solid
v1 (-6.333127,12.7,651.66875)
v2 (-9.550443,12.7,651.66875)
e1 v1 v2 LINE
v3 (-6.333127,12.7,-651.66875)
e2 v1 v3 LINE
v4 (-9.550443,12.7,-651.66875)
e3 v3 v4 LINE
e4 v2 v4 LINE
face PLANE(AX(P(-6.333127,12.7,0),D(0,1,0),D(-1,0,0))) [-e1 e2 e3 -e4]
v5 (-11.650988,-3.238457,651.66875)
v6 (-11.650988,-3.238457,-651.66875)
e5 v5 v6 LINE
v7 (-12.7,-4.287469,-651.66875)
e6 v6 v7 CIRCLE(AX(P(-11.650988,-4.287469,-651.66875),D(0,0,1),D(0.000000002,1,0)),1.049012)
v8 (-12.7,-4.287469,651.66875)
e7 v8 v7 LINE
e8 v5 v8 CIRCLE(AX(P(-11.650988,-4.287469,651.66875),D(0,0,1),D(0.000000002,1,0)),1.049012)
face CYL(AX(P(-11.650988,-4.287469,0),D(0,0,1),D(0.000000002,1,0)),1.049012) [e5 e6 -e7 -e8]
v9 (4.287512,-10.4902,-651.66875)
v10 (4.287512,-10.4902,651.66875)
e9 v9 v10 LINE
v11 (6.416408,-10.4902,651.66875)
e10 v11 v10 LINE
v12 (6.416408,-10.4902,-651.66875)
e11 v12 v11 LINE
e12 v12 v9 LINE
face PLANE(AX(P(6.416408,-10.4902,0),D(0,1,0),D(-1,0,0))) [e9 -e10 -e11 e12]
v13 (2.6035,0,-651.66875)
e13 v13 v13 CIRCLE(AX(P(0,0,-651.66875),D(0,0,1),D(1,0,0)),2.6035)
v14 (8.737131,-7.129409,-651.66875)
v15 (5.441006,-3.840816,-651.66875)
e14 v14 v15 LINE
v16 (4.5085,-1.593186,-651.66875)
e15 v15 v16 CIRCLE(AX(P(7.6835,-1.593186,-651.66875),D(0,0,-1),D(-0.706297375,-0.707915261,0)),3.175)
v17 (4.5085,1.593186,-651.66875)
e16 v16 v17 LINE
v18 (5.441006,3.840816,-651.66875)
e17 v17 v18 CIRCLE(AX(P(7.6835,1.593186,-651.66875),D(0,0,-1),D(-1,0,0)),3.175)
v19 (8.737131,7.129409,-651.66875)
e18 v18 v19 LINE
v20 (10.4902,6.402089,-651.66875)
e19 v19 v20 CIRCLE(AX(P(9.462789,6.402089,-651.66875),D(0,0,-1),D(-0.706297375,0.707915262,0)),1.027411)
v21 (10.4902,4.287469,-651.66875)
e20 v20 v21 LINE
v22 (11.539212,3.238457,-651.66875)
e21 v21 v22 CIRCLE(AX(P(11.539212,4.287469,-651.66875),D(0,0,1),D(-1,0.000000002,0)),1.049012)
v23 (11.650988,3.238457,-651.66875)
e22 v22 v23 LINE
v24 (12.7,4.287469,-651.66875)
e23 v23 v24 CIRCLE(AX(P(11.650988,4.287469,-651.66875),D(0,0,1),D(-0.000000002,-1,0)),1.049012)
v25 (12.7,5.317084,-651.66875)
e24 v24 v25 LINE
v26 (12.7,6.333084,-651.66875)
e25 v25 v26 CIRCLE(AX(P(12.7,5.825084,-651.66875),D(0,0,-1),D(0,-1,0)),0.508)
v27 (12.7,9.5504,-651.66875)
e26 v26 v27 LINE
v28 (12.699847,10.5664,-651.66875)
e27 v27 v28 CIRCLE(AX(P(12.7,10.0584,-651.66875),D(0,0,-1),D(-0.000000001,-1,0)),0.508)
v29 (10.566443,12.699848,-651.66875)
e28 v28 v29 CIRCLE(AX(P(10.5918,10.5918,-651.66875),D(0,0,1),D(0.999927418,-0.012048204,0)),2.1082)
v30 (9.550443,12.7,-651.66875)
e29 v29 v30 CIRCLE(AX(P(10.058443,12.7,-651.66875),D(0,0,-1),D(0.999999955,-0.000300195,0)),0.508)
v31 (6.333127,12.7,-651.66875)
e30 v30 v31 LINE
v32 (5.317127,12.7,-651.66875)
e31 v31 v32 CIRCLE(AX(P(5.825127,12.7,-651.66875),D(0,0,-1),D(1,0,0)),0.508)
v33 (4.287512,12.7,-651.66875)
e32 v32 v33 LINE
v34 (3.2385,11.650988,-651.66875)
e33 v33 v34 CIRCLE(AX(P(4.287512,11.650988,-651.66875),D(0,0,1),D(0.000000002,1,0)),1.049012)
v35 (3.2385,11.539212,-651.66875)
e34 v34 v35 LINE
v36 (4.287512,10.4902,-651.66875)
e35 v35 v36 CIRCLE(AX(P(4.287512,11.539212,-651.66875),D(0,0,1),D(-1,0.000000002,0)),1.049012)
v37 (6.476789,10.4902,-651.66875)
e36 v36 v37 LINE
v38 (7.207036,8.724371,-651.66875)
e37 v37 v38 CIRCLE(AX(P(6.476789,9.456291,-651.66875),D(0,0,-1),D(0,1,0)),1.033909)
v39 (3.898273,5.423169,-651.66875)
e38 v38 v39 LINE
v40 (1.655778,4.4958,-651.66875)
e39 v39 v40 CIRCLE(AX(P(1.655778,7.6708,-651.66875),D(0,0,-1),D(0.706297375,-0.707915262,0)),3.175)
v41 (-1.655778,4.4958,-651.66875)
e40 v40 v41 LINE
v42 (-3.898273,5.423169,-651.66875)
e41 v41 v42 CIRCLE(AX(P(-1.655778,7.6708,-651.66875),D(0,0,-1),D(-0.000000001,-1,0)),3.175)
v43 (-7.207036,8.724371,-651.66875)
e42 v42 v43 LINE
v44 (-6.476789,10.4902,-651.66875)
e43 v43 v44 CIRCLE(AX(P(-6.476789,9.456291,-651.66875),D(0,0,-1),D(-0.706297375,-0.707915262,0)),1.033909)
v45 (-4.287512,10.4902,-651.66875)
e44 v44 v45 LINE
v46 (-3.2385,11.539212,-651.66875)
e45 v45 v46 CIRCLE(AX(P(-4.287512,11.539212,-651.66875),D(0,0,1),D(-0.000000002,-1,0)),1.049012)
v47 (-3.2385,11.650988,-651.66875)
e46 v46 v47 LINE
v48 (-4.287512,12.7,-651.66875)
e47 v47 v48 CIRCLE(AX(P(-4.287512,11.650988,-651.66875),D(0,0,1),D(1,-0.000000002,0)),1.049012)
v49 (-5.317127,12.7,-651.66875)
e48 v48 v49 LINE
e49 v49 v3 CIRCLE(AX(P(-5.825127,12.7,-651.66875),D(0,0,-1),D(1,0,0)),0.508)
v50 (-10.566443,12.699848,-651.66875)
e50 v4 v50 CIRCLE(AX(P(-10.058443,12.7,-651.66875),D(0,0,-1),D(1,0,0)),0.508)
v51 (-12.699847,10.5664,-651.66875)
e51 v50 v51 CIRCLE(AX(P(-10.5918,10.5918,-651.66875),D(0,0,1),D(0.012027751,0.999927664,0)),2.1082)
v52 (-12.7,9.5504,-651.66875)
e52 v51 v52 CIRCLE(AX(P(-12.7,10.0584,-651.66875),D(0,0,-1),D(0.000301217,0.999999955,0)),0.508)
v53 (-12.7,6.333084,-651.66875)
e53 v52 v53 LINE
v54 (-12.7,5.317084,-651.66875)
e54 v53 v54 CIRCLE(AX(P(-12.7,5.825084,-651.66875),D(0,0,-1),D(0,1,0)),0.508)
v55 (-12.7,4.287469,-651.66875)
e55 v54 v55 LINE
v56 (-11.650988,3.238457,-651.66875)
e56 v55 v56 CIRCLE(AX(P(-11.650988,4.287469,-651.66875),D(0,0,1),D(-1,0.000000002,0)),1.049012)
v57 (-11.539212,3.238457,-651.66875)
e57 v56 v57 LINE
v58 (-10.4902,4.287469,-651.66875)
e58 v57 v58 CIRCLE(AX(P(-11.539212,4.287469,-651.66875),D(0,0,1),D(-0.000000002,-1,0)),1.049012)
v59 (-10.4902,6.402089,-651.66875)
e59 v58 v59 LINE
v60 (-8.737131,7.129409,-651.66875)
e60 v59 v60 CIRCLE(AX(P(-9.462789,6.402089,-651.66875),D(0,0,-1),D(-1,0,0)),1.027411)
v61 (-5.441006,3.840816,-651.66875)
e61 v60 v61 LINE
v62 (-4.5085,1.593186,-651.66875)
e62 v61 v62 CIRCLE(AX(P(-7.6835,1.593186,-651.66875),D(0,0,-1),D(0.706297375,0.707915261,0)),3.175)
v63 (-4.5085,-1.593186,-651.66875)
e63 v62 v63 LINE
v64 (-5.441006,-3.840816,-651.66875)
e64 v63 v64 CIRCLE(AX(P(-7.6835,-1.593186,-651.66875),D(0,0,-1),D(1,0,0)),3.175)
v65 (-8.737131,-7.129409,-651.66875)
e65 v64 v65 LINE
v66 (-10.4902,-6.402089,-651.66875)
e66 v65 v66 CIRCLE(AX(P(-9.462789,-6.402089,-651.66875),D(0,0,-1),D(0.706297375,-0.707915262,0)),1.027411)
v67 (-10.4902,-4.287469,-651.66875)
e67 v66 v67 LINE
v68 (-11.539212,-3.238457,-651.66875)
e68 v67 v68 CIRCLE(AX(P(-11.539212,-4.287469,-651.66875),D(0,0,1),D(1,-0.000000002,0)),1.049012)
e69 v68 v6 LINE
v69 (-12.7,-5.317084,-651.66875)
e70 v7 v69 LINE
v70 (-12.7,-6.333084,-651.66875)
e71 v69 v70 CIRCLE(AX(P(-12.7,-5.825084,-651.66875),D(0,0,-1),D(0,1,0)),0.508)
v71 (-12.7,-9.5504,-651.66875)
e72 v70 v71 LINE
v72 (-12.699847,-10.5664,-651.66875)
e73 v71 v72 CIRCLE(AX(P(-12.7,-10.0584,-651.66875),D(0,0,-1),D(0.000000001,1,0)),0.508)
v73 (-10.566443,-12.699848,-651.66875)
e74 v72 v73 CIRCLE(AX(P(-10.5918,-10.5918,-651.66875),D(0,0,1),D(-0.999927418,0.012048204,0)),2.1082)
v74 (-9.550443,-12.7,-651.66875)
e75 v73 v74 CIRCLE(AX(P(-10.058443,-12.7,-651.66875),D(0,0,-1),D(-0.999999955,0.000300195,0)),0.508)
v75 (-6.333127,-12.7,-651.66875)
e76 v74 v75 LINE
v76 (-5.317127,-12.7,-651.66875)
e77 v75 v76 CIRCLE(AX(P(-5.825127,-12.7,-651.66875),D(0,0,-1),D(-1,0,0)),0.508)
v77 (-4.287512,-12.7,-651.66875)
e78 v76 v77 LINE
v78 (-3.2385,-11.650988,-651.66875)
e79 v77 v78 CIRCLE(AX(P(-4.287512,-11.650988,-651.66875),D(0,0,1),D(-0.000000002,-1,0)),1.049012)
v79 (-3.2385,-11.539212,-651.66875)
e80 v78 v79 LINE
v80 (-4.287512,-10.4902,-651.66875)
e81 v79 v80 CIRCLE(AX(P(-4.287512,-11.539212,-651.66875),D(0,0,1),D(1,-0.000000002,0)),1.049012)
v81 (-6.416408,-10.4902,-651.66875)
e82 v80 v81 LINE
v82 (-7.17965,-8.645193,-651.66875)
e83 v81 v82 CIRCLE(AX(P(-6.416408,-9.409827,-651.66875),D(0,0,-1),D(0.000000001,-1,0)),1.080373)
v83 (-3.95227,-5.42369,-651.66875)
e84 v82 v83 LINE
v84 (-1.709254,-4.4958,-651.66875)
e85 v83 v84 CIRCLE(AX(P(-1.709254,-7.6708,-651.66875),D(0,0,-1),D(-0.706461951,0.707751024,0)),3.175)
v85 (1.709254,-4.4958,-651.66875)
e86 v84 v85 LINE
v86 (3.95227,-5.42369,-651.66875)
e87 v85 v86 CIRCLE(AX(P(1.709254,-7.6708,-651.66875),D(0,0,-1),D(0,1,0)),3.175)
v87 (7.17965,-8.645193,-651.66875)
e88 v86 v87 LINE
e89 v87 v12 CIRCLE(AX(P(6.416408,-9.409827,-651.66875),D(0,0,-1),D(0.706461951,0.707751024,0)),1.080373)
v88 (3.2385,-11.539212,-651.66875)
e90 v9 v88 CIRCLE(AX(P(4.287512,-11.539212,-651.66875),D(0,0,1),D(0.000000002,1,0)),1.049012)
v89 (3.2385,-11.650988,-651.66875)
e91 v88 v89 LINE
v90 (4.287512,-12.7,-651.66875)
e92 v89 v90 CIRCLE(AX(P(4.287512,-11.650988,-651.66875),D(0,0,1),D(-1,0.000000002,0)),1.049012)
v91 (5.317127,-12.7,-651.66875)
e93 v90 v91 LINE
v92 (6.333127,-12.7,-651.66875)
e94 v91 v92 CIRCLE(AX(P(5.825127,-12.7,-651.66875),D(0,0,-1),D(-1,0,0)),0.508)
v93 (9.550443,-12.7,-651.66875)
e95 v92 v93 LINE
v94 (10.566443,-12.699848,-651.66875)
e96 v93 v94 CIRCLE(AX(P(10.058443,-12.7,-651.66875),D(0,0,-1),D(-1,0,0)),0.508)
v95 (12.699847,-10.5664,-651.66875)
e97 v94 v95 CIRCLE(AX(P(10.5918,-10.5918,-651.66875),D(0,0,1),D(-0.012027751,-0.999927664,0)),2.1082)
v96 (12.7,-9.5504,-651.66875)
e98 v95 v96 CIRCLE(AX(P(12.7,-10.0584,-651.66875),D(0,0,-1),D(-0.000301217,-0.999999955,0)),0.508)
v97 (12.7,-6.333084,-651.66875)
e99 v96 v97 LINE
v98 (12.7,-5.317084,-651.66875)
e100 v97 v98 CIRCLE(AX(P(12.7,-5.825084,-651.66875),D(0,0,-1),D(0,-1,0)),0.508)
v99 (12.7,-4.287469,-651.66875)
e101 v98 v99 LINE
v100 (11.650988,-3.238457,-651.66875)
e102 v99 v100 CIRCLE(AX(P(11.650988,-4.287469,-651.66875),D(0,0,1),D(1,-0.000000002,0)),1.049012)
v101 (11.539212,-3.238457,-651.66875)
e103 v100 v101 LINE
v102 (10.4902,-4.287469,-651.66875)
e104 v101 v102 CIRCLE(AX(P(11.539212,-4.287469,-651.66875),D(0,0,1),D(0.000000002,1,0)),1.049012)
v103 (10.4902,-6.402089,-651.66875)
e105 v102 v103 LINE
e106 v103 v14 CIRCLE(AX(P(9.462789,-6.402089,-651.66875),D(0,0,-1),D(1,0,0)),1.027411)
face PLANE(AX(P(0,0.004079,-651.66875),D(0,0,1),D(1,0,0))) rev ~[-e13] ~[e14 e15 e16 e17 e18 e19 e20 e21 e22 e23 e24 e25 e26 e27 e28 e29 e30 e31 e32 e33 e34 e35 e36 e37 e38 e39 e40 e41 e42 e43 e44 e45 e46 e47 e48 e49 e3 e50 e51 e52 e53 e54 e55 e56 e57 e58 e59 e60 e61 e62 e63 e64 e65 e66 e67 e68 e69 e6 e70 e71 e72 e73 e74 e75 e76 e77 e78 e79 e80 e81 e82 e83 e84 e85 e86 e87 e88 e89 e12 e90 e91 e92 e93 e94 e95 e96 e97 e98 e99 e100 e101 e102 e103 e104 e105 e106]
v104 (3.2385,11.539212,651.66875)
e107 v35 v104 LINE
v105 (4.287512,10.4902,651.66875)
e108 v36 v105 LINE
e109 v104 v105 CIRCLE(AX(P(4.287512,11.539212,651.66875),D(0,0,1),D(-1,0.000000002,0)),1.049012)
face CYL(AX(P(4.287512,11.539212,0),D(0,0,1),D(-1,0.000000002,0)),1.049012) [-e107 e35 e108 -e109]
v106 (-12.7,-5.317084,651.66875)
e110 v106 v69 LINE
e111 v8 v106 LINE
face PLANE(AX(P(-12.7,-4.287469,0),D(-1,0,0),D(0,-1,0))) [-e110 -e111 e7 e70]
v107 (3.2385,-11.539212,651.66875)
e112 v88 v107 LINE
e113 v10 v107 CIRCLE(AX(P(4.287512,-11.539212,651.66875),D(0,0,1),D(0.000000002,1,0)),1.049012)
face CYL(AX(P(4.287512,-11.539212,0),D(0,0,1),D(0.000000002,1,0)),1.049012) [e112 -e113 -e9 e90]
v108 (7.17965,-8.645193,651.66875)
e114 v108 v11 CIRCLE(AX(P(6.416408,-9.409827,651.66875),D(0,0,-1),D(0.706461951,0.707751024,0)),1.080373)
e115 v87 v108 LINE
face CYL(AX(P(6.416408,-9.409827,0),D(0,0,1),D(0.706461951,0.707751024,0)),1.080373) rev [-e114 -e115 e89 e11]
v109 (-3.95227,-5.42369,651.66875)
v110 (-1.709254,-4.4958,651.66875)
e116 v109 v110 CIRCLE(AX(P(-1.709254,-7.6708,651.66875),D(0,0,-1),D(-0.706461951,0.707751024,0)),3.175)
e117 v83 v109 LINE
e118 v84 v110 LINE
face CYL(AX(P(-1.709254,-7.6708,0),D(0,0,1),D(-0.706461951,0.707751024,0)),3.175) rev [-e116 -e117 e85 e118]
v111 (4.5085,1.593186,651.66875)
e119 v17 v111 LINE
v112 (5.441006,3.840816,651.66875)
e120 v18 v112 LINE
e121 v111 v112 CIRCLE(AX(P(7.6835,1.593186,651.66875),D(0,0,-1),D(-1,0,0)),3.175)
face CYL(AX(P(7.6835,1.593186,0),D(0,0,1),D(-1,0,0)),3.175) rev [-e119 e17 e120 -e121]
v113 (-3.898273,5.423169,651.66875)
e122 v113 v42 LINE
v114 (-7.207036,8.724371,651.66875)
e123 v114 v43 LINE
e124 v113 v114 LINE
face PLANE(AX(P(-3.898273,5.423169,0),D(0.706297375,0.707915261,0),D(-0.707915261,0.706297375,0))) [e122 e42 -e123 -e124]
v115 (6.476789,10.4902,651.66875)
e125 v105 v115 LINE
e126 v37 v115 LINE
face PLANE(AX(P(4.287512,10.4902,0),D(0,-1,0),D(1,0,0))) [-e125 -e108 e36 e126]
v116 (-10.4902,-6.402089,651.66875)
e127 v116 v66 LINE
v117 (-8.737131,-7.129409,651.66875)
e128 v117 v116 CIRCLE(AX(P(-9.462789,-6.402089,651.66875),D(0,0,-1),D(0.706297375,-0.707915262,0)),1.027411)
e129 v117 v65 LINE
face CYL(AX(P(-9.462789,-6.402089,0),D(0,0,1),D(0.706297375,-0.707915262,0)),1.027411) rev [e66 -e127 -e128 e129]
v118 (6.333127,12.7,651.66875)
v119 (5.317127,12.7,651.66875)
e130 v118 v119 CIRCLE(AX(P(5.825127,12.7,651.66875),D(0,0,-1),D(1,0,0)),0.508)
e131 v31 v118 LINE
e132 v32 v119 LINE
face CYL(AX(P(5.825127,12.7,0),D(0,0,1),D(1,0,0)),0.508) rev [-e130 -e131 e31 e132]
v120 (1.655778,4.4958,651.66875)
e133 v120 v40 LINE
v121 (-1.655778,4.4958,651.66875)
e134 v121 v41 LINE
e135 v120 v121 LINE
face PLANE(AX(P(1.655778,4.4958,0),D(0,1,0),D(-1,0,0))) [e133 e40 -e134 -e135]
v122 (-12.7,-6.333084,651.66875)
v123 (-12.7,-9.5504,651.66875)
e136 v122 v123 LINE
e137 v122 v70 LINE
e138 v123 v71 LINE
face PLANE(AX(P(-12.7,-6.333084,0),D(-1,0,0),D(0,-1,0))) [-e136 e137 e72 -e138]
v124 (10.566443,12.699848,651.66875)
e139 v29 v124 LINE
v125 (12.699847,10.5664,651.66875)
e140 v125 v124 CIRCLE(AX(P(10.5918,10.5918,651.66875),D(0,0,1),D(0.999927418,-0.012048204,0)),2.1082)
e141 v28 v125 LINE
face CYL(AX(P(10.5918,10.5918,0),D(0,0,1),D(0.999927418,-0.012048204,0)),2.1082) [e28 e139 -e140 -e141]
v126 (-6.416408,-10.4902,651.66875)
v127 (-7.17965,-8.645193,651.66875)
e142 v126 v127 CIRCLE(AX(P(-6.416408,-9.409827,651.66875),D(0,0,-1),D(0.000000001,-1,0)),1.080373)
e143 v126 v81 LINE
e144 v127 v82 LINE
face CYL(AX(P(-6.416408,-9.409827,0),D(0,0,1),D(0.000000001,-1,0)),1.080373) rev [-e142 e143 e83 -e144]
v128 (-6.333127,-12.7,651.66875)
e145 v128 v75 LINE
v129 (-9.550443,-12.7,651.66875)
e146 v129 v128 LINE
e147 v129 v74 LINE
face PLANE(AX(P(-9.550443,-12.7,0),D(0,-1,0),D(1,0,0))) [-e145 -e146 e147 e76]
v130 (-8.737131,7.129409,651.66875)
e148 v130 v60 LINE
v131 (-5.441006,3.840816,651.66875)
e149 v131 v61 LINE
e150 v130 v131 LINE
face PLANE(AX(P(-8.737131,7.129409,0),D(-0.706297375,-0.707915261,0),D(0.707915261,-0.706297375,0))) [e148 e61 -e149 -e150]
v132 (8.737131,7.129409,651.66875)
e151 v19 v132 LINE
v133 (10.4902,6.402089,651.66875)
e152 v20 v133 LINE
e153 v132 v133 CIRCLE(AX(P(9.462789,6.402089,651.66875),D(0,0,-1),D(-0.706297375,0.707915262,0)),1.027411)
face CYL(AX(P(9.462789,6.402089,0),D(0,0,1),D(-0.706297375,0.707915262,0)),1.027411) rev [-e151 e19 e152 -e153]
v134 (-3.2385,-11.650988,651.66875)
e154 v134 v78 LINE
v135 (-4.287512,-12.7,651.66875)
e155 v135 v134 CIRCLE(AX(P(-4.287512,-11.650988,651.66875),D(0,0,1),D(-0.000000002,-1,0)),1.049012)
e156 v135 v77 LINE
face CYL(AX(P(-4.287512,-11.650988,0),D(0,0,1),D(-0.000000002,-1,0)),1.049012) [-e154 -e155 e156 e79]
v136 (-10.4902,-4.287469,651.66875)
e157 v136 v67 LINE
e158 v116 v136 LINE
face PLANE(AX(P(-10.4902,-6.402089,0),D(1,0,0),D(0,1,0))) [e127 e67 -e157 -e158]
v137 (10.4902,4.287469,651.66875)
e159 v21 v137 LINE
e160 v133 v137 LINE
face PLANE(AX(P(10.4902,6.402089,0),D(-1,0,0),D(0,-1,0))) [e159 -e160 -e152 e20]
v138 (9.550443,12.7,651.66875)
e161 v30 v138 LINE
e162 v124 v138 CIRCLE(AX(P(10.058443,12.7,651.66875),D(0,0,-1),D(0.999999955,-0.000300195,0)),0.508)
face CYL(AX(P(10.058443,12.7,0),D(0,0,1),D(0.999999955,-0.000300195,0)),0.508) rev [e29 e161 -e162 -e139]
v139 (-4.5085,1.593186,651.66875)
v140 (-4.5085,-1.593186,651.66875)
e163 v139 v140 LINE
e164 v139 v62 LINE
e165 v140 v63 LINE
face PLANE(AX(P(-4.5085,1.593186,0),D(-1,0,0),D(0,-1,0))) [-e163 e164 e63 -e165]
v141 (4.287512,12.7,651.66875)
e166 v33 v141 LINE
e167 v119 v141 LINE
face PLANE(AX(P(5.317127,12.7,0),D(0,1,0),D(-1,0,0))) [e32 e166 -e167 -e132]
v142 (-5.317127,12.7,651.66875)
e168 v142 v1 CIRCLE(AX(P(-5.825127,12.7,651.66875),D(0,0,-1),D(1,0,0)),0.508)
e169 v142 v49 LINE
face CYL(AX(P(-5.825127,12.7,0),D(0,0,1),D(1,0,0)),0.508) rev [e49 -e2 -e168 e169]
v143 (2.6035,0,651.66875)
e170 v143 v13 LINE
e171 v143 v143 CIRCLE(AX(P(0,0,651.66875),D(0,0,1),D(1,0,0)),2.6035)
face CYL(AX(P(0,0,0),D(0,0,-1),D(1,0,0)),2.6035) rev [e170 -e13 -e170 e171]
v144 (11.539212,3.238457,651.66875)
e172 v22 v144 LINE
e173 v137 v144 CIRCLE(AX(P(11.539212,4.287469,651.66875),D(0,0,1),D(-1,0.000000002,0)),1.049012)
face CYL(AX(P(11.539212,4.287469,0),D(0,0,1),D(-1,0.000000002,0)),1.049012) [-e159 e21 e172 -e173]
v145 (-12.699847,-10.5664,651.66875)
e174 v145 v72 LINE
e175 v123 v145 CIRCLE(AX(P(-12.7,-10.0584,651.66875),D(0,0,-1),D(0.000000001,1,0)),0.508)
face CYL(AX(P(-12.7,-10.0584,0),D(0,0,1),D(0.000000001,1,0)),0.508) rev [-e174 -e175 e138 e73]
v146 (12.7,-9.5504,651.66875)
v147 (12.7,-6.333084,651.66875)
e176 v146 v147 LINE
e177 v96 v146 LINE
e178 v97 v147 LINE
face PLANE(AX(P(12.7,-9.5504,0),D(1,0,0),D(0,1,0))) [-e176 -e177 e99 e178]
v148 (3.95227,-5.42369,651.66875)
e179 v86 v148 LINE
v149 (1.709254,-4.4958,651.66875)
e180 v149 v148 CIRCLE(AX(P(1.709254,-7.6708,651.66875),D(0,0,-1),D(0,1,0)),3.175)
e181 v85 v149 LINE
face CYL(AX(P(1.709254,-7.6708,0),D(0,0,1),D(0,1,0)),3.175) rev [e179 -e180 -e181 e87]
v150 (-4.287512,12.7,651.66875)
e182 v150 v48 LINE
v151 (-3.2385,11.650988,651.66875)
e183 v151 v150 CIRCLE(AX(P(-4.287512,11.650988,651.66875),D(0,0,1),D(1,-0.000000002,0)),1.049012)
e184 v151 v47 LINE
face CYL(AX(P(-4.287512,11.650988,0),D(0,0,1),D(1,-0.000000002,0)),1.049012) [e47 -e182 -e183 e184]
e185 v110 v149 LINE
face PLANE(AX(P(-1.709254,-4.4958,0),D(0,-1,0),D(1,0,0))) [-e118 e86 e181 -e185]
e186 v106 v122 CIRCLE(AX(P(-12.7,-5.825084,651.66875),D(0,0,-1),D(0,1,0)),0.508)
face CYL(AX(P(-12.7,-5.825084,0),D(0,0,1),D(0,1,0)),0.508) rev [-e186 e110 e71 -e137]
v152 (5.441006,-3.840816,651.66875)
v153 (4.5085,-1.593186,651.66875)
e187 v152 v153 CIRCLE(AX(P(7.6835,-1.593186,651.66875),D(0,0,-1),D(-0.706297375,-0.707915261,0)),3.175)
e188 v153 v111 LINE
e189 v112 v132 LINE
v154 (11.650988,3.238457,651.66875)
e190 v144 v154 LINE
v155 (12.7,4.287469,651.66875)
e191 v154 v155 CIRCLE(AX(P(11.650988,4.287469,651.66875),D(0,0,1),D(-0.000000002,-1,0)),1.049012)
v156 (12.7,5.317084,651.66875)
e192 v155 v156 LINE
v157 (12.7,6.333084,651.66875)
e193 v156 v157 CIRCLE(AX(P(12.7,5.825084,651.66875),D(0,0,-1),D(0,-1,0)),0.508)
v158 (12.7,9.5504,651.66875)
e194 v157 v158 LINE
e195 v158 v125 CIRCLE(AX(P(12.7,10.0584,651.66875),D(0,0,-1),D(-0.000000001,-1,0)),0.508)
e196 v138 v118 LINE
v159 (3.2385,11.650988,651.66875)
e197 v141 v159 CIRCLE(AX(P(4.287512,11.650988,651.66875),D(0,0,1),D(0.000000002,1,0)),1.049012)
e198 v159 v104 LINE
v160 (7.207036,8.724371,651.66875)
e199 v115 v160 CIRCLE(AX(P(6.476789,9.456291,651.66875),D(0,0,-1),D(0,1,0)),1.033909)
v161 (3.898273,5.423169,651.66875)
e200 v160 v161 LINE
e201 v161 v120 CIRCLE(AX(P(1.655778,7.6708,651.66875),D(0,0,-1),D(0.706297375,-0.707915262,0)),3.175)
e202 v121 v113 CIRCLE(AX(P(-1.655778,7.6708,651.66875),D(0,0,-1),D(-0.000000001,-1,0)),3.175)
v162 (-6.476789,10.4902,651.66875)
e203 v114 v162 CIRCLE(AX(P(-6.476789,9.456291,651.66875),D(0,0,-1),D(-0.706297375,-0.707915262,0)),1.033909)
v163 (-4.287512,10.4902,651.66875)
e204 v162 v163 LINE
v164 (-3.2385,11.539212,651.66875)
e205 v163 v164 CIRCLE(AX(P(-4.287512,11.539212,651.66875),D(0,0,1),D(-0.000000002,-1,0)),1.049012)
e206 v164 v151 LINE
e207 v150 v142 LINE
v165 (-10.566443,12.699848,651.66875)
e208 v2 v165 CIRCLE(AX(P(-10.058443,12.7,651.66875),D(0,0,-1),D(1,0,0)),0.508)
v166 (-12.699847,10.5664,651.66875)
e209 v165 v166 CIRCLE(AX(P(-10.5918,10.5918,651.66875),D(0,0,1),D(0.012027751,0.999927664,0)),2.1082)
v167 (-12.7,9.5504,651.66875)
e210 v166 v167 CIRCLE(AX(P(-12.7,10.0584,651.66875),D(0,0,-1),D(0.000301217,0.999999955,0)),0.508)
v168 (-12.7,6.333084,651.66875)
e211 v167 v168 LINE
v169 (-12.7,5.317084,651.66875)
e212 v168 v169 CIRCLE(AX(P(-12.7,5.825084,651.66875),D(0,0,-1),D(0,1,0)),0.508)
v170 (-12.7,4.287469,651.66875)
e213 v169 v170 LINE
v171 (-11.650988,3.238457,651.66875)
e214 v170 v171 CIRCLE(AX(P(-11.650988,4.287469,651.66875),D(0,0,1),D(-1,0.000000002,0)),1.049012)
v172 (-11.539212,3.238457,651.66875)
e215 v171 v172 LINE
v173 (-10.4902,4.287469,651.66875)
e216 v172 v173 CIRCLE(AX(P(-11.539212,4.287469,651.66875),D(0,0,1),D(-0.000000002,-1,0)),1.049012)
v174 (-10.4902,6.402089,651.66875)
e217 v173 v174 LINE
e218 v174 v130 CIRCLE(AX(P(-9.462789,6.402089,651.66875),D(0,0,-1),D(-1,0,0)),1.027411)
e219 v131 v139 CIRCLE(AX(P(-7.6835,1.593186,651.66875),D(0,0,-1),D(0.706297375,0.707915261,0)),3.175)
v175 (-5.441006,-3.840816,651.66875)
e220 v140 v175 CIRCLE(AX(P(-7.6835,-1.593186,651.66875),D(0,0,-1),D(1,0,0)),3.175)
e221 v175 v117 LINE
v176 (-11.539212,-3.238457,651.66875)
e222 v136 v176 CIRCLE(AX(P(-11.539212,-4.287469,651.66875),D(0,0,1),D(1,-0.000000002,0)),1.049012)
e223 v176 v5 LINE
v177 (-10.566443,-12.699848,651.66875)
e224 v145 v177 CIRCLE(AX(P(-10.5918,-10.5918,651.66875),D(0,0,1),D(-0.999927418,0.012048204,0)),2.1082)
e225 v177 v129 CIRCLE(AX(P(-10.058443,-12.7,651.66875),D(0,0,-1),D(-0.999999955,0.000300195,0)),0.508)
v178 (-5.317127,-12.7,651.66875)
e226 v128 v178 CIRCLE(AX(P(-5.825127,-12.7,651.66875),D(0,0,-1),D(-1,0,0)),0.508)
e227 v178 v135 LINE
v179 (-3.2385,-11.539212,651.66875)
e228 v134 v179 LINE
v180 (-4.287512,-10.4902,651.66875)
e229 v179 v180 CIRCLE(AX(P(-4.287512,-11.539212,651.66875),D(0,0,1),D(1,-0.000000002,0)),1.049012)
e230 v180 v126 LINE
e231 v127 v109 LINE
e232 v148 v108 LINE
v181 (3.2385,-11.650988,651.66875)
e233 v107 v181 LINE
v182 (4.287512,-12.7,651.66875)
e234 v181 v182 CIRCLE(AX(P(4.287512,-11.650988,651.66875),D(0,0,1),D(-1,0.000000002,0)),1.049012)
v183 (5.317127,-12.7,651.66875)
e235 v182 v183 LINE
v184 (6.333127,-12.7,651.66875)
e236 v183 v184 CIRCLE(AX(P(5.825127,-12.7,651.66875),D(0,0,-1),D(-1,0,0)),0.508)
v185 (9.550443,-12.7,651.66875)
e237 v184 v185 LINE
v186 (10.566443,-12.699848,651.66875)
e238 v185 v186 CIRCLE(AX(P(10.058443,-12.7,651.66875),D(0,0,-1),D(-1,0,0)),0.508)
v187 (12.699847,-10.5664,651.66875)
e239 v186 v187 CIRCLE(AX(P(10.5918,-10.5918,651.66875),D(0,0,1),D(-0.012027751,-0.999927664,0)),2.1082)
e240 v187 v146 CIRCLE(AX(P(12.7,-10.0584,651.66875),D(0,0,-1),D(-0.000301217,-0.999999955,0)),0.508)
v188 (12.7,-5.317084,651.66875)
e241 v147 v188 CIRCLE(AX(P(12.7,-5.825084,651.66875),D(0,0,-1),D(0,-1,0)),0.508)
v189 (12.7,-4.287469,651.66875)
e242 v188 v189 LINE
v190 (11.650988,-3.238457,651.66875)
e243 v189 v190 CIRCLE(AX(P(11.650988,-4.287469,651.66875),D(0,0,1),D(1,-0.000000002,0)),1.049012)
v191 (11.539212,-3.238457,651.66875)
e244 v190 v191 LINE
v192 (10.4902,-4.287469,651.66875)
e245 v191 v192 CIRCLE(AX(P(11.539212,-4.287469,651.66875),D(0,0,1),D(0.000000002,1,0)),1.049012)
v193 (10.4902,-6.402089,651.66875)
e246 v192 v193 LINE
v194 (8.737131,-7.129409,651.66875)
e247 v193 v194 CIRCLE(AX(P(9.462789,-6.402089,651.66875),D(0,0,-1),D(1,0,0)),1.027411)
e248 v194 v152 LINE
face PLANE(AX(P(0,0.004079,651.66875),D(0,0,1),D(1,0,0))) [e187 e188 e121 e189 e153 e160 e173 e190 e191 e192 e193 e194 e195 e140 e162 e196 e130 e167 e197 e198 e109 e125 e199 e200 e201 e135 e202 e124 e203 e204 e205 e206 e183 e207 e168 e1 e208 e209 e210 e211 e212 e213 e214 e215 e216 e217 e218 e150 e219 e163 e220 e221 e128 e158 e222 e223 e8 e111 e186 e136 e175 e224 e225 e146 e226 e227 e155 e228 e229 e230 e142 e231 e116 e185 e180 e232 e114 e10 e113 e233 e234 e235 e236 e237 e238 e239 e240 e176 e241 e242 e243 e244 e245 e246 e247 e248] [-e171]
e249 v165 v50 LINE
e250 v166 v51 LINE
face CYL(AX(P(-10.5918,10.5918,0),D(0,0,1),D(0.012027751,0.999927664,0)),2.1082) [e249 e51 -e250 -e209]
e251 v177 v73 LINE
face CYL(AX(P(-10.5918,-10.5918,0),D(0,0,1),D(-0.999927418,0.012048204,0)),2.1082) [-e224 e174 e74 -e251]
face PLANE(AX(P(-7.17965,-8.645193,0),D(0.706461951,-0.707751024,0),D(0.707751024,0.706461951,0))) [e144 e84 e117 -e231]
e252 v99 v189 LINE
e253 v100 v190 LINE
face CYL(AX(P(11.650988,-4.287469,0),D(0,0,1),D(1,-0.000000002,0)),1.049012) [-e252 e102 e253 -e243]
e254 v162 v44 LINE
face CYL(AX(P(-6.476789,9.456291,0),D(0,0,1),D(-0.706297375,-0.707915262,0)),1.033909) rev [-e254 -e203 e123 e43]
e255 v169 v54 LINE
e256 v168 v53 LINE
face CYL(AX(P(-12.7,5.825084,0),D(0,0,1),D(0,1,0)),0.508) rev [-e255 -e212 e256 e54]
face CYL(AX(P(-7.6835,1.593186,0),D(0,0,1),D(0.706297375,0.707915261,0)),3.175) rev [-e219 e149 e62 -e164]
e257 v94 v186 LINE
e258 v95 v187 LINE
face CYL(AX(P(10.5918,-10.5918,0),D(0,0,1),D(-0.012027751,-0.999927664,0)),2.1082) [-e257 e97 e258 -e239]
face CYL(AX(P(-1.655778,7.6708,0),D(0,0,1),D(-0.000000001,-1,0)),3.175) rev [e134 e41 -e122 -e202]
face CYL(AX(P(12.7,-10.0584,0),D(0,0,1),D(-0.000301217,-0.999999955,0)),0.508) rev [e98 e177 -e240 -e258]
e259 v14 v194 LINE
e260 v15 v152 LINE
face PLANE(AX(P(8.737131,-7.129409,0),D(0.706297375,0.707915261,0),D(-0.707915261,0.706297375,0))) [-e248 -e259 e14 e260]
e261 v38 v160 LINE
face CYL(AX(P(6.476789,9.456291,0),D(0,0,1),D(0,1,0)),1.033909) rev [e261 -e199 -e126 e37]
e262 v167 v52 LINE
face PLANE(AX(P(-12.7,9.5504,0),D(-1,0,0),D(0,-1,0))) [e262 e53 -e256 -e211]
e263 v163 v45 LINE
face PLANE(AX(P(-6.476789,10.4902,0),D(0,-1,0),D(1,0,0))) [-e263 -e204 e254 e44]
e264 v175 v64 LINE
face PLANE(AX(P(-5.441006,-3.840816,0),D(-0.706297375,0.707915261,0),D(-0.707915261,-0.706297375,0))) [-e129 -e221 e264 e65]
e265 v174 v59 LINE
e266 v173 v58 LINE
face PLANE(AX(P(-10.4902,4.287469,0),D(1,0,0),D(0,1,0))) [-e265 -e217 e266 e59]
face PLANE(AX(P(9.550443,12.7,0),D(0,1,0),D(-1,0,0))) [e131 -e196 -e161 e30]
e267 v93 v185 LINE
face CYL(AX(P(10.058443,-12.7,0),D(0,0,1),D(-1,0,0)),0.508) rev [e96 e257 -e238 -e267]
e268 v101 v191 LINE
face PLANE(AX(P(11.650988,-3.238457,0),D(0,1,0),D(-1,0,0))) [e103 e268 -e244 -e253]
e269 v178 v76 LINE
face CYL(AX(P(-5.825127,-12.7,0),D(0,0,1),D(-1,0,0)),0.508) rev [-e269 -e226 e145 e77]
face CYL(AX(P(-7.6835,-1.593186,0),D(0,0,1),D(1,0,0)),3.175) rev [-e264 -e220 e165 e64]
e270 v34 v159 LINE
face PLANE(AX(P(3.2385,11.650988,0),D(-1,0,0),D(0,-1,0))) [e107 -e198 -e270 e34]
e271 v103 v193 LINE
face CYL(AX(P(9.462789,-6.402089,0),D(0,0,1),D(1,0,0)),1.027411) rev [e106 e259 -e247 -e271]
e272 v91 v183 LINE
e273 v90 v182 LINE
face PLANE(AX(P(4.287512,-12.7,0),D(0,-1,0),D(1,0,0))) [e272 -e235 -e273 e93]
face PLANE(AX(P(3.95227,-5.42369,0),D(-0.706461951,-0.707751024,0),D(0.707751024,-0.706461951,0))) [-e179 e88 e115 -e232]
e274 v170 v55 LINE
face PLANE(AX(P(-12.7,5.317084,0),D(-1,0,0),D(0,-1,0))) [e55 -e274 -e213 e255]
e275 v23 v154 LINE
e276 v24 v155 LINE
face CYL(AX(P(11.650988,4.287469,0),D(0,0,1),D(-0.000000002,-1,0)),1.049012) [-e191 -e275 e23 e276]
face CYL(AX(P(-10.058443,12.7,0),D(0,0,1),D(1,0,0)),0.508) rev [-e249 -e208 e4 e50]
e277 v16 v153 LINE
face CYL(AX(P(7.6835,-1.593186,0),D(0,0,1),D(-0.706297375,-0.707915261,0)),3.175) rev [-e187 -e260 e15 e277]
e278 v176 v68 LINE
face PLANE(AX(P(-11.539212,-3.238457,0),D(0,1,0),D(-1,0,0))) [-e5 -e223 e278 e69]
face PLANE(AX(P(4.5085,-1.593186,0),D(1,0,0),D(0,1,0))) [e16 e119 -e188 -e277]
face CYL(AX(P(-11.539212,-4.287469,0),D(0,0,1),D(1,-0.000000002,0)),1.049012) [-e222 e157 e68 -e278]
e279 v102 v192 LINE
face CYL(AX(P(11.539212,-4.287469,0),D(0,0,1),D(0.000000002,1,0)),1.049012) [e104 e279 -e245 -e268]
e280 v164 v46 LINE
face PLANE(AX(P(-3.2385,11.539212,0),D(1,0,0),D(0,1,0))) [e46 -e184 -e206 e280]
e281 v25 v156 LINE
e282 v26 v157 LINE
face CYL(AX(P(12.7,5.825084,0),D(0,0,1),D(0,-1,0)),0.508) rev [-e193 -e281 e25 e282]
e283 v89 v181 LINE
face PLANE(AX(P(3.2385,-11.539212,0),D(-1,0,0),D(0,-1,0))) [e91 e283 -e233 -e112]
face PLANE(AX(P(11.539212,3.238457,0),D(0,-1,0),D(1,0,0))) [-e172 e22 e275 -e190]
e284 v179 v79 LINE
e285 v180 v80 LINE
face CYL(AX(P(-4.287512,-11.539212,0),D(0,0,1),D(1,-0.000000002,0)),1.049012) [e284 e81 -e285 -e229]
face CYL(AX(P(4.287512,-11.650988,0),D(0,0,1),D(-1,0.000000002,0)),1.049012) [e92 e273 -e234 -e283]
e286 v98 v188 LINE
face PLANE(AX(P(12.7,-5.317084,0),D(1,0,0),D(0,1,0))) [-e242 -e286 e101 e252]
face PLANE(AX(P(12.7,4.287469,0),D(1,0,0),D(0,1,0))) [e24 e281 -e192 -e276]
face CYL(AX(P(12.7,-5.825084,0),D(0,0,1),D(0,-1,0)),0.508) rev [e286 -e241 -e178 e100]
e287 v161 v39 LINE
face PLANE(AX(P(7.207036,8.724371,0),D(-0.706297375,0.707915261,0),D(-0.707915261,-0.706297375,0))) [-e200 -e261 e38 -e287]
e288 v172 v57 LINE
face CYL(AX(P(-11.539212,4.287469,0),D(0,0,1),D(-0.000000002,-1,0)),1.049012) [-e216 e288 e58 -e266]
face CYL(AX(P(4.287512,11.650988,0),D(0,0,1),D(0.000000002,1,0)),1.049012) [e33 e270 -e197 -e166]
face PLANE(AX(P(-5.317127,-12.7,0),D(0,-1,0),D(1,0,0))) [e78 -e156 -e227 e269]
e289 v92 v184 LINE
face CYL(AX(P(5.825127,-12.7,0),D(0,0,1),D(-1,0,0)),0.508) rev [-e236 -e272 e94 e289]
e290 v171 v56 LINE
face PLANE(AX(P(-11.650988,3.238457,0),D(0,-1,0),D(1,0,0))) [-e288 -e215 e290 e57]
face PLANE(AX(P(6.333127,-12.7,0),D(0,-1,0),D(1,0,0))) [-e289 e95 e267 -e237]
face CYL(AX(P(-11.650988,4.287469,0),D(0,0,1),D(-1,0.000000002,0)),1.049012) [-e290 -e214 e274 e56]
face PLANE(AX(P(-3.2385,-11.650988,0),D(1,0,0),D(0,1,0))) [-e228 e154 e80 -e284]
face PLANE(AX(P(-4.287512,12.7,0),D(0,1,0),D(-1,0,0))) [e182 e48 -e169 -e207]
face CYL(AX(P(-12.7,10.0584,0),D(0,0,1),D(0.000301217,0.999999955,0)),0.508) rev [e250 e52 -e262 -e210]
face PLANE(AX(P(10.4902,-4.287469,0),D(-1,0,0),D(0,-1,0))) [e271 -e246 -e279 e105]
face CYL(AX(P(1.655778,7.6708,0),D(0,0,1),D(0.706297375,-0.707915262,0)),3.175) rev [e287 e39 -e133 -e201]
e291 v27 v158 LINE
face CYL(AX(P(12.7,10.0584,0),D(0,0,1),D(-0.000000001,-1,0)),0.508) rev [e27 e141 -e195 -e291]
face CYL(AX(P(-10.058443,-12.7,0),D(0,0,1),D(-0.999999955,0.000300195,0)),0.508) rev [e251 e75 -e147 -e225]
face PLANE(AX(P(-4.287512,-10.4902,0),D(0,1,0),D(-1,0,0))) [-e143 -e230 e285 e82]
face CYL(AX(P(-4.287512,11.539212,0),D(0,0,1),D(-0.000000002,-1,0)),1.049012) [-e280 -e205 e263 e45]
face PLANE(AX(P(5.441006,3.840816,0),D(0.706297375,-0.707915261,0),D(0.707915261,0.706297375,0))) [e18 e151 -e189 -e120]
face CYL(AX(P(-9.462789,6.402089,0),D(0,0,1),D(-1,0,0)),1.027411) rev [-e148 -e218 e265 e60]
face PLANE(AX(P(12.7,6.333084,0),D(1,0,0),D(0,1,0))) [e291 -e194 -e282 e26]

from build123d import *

# Parameters (mm, degrees)
SKETCH1_R           = 2.6035
BOSS_EXTRUDE1_DEPTH = 651.66875


with BuildPart() as part:
    # Sketch1 → Boss-Extrude1 (new, symmetric)
    with BuildSketch(Plane.XY):
        with BuildLine():
            Line((-7.179650497, -8.645192506), (-3.952270251, -5.423690499))
            ThreePointArc((-3.952270251, -5.423690499), (-2.922936451, -4.736929036), (-1.709253557, -4.4958))
            Line((-1.709253557, -4.4958), (1.709253557, -4.4958))
            ThreePointArc((1.709253557, -4.4958), (2.922936451, -4.736929036), (3.952270251, -5.423690499))
            Line((3.952270251, -5.423690499), (7.179650497, -8.645192506))
            ThreePointArc((7.179650497, -8.645192506), (7.41473083, -9.822813117), (6.416408329, -10.4902))
            Line((6.416408329, -10.4902), (4.287512407, -10.4902))
            ThreePointArc((4.287512407, -10.4902), (3.54574862, -10.79744862), (3.2385, -11.539212407))
            Line((3.2385, -11.539212407), (3.2385, -11.650987593))
            ThreePointArc((3.2385, -11.650987593), (3.54574862, -12.39275138), (4.287512407, -12.7))
            Line((4.287512407, -12.7), (5.317126718, -12.7))
            ThreePointArc((5.317126718, -12.7), (5.825126718, -12.192), (6.333126718, -12.7))
            Line((6.333126718, -12.7), (9.550443118, -12.7))
            ThreePointArc((9.550443118, -12.7), (10.058366869, -12.192000006), (10.566443095, -12.699847501))
            ThreePointArc((10.566443095, -12.699847501), (12.082537762, -12.08250727), (12.699846982, -10.566399977))
            ThreePointArc((12.699846982, -10.566399977), (12.192000006, -10.058323491), (12.7, -9.5504))
            Line((12.7, -9.5504), (12.7, -6.3330836))
            ThreePointArc((12.7, -6.3330836), (12.192, -5.8250836), (12.7, -5.3170836))
            Line((12.7, -5.3170836), (12.7, -4.287469289))
            ThreePointArc((12.7, -4.287469289), (12.39275138, -3.545705502), (11.650987593, -3.238456882))
            Line((11.650987593, -3.238456882), (11.539212407, -3.238456882))
            ThreePointArc((11.539212407, -3.238456882), (10.79744862, -3.545705502), (10.4902, -4.287469289))
            Line((10.4902, -4.287469289), (10.4902, -6.402089023))
            ThreePointArc((10.4902, -6.402089023), (9.856505071, -7.351067942), (8.737131347, -7.129408934))
            Line((8.737131347, -7.129408934), (5.441005833, -3.840816462))
            ThreePointArc((5.441005833, -3.840816462), (4.750877967, -2.809883091), (4.5085, -1.593185507))
            Line((4.5085, -1.593185507), (4.5085, 1.593185507))
            ThreePointArc((4.5085, 1.593185507), (4.750877967, 2.809883091), (5.441005833, 3.840816462))
            Line((5.441005833, 3.840816462), (8.737131347, 7.129408934))
            ThreePointArc((8.737131347, 7.129408934), (9.856505071, 7.351067942), (10.4902, 6.402089023))
            Line((10.4902, 6.402089023), (10.4902, 4.287469289))
            ThreePointArc((10.4902, 4.287469289), (10.79744862, 3.545705502), (11.539212407, 3.238456882))
            Line((11.539212407, 3.238456882), (11.650987593, 3.238456882))
            ThreePointArc((11.650987593, 3.238456882), (12.39275138, 3.545705502), (12.7, 4.287469289))
            Line((12.7, 4.287469289), (12.7, 5.3170836))
            ThreePointArc((12.7, 5.3170836), (12.192, 5.8250836), (12.7, 6.3330836))
            Line((12.7, 6.3330836), (12.7, 9.5504))
            ThreePointArc((12.7, 9.5504), (12.192000006, 10.058323491), (12.699846982, 10.566399977))
            ThreePointArc((12.699846982, 10.566399977), (12.082537762, 12.08250727), (10.566443095, 12.699847501))
            ThreePointArc((10.566443095, 12.699847501), (10.058366869, 12.192000006), (9.550443118, 12.7))
            Line((9.550443118, 12.7), (6.333126718, 12.7))
            ThreePointArc((6.333126718, 12.7), (5.825126718, 12.192), (5.317126718, 12.7))
            Line((5.317126718, 12.7), (4.287512407, 12.7))
            ThreePointArc((4.287512407, 12.7), (3.54574862, 12.39275138), (3.2385, 11.650987593))
            Line((3.2385, 11.650987593), (3.2385, 11.539212407))
            ThreePointArc((3.2385, 11.539212407), (3.54574862, 10.79744862), (4.287512407, 10.4902))
            Line((4.287512407, 10.4902), (6.476788598, 10.4902))
            ThreePointArc((6.476788598, 10.4902), (7.432222385, 9.85140422), (7.207036008, 8.724370562))
            Line((7.207036008, 8.724370562), (3.898272566, 5.423169045))
            ThreePointArc((3.898272566, 5.423169045), (2.869120213, 4.736787962), (1.655778399, 4.4958))
            Line((1.655778399, 4.4958), (-1.655778399, 4.4958))
            ThreePointArc((-1.655778399, 4.4958), (-2.869120213, 4.736787962), (-3.898272566, 5.423169045))
            Line((-3.898272566, 5.423169045), (-7.207036008, 8.724370562))
            ThreePointArc((-7.207036008, 8.724370562), (-7.432222385, 9.85140422), (-6.476788598, 10.4902))
            Line((-6.476788598, 10.4902), (-4.287512407, 10.4902))
            ThreePointArc((-4.287512407, 10.4902), (-3.54574862, 10.79744862), (-3.2385, 11.539212407))
            Line((-3.2385, 11.539212407), (-3.2385, 11.650987593))
            ThreePointArc((-3.2385, 11.650987593), (-3.54574862, 12.39275138), (-4.287512407, 12.7))
            Line((-4.287512407, 12.7), (-5.317126718, 12.7))
            ThreePointArc((-5.317126718, 12.7), (-5.825126718, 12.192), (-6.333126718, 12.7))
            Line((-6.333126718, 12.7), (-9.550443118, 12.7))
            ThreePointArc((-9.550443118, 12.7), (-10.058366869, 12.192000006), (-10.566443095, 12.699847501))
            ThreePointArc((-10.566443095, 12.699847501), (-12.082537762, 12.08250727), (-12.699846982, 10.566399977))
            ThreePointArc((-12.699846982, 10.566399977), (-12.192000006, 10.058323491), (-12.7, 9.5504))
            Line((-12.7, 9.5504), (-12.7, 6.3330836))
            ThreePointArc((-12.7, 6.3330836), (-12.192, 5.8250836), (-12.7, 5.3170836))
            Line((-12.7, 5.3170836), (-12.7, 4.287469289))
            ThreePointArc((-12.7, 4.287469289), (-12.39275138, 3.545705502), (-11.650987593, 3.238456882))
            Line((-11.650987593, 3.238456882), (-11.539212407, 3.238456882))
            ThreePointArc((-11.539212407, 3.238456882), (-10.79744862, 3.545705502), (-10.4902, 4.287469289))
            Line((-10.4902, 4.287469289), (-10.4902, 6.402089023))
            ThreePointArc((-10.4902, 6.402089023), (-9.856505071, 7.351067942), (-8.737131347, 7.129408934))
            Line((-8.737131347, 7.129408934), (-5.441005833, 3.840816462))
            ThreePointArc((-5.441005833, 3.840816462), (-4.750877967, 2.809883091), (-4.5085, 1.593185507))
            Line((-4.5085, 1.593185507), (-4.5085, -1.593185507))
            ThreePointArc((-4.5085, -1.593185507), (-4.750877967, -2.809883091), (-5.441005833, -3.840816462))
            Line((-5.441005833, -3.840816462), (-8.737131347, -7.129408934))
            ThreePointArc((-8.737131347, -7.129408934), (-9.856505071, -7.351067942), (-10.4902, -6.402089023))
            Line((-10.4902, -6.402089023), (-10.4902, -4.287469289))
            ThreePointArc((-10.4902, -4.287469289), (-10.79744862, -3.545705502), (-11.539212407, -3.238456882))
            Line((-11.539212407, -3.238456882), (-11.650987593, -3.238456882))
            ThreePointArc((-11.650987593, -3.238456882), (-12.39275138, -3.545705502), (-12.7, -4.287469289))
            Line((-12.7, -4.287469289), (-12.7, -5.3170836))
            ThreePointArc((-12.7, -5.3170836), (-12.192, -5.8250836), (-12.7, -6.3330836))
            Line((-12.7, -6.3330836), (-12.7, -9.5504))
            ThreePointArc((-12.7, -9.5504), (-12.192000006, -10.058323491), (-12.699846982, -10.566399977))
            ThreePointArc((-12.699846982, -10.566399977), (-12.082537762, -12.08250727), (-10.566443095, -12.699847501))
            ThreePointArc((-10.566443095, -12.699847501), (-10.058366869, -12.192000006), (-9.550443118, -12.7))
            Line((-9.550443118, -12.7), (-6.333126718, -12.7))
            ThreePointArc((-6.333126718, -12.7), (-5.825126718, -12.192), (-5.317126718, -12.7))
            Line((-5.317126718, -12.7), (-4.287512407, -12.7))
            ThreePointArc((-4.287512407, -12.7), (-3.54574862, -12.39275138), (-3.2385, -11.650987593))
            Line((-3.2385, -11.650987593), (-3.2385, -11.539212407))
            ThreePointArc((-3.2385, -11.539212407), (-3.54574862, -10.79744862), (-4.287512407, -10.4902))
            Line((-4.287512407, -10.4902), (-6.416408329, -10.4902))
            ThreePointArc((-6.416408329, -10.4902), (-7.41473083, -9.822813117), (-7.179650497, -8.645192506))
        make_face()
        Circle(SKETCH1_R, mode=Mode.SUBTRACT)
    extrude(amount=BOSS_EXTRUDE1_DEPTH, both=True)


solid = part.part
